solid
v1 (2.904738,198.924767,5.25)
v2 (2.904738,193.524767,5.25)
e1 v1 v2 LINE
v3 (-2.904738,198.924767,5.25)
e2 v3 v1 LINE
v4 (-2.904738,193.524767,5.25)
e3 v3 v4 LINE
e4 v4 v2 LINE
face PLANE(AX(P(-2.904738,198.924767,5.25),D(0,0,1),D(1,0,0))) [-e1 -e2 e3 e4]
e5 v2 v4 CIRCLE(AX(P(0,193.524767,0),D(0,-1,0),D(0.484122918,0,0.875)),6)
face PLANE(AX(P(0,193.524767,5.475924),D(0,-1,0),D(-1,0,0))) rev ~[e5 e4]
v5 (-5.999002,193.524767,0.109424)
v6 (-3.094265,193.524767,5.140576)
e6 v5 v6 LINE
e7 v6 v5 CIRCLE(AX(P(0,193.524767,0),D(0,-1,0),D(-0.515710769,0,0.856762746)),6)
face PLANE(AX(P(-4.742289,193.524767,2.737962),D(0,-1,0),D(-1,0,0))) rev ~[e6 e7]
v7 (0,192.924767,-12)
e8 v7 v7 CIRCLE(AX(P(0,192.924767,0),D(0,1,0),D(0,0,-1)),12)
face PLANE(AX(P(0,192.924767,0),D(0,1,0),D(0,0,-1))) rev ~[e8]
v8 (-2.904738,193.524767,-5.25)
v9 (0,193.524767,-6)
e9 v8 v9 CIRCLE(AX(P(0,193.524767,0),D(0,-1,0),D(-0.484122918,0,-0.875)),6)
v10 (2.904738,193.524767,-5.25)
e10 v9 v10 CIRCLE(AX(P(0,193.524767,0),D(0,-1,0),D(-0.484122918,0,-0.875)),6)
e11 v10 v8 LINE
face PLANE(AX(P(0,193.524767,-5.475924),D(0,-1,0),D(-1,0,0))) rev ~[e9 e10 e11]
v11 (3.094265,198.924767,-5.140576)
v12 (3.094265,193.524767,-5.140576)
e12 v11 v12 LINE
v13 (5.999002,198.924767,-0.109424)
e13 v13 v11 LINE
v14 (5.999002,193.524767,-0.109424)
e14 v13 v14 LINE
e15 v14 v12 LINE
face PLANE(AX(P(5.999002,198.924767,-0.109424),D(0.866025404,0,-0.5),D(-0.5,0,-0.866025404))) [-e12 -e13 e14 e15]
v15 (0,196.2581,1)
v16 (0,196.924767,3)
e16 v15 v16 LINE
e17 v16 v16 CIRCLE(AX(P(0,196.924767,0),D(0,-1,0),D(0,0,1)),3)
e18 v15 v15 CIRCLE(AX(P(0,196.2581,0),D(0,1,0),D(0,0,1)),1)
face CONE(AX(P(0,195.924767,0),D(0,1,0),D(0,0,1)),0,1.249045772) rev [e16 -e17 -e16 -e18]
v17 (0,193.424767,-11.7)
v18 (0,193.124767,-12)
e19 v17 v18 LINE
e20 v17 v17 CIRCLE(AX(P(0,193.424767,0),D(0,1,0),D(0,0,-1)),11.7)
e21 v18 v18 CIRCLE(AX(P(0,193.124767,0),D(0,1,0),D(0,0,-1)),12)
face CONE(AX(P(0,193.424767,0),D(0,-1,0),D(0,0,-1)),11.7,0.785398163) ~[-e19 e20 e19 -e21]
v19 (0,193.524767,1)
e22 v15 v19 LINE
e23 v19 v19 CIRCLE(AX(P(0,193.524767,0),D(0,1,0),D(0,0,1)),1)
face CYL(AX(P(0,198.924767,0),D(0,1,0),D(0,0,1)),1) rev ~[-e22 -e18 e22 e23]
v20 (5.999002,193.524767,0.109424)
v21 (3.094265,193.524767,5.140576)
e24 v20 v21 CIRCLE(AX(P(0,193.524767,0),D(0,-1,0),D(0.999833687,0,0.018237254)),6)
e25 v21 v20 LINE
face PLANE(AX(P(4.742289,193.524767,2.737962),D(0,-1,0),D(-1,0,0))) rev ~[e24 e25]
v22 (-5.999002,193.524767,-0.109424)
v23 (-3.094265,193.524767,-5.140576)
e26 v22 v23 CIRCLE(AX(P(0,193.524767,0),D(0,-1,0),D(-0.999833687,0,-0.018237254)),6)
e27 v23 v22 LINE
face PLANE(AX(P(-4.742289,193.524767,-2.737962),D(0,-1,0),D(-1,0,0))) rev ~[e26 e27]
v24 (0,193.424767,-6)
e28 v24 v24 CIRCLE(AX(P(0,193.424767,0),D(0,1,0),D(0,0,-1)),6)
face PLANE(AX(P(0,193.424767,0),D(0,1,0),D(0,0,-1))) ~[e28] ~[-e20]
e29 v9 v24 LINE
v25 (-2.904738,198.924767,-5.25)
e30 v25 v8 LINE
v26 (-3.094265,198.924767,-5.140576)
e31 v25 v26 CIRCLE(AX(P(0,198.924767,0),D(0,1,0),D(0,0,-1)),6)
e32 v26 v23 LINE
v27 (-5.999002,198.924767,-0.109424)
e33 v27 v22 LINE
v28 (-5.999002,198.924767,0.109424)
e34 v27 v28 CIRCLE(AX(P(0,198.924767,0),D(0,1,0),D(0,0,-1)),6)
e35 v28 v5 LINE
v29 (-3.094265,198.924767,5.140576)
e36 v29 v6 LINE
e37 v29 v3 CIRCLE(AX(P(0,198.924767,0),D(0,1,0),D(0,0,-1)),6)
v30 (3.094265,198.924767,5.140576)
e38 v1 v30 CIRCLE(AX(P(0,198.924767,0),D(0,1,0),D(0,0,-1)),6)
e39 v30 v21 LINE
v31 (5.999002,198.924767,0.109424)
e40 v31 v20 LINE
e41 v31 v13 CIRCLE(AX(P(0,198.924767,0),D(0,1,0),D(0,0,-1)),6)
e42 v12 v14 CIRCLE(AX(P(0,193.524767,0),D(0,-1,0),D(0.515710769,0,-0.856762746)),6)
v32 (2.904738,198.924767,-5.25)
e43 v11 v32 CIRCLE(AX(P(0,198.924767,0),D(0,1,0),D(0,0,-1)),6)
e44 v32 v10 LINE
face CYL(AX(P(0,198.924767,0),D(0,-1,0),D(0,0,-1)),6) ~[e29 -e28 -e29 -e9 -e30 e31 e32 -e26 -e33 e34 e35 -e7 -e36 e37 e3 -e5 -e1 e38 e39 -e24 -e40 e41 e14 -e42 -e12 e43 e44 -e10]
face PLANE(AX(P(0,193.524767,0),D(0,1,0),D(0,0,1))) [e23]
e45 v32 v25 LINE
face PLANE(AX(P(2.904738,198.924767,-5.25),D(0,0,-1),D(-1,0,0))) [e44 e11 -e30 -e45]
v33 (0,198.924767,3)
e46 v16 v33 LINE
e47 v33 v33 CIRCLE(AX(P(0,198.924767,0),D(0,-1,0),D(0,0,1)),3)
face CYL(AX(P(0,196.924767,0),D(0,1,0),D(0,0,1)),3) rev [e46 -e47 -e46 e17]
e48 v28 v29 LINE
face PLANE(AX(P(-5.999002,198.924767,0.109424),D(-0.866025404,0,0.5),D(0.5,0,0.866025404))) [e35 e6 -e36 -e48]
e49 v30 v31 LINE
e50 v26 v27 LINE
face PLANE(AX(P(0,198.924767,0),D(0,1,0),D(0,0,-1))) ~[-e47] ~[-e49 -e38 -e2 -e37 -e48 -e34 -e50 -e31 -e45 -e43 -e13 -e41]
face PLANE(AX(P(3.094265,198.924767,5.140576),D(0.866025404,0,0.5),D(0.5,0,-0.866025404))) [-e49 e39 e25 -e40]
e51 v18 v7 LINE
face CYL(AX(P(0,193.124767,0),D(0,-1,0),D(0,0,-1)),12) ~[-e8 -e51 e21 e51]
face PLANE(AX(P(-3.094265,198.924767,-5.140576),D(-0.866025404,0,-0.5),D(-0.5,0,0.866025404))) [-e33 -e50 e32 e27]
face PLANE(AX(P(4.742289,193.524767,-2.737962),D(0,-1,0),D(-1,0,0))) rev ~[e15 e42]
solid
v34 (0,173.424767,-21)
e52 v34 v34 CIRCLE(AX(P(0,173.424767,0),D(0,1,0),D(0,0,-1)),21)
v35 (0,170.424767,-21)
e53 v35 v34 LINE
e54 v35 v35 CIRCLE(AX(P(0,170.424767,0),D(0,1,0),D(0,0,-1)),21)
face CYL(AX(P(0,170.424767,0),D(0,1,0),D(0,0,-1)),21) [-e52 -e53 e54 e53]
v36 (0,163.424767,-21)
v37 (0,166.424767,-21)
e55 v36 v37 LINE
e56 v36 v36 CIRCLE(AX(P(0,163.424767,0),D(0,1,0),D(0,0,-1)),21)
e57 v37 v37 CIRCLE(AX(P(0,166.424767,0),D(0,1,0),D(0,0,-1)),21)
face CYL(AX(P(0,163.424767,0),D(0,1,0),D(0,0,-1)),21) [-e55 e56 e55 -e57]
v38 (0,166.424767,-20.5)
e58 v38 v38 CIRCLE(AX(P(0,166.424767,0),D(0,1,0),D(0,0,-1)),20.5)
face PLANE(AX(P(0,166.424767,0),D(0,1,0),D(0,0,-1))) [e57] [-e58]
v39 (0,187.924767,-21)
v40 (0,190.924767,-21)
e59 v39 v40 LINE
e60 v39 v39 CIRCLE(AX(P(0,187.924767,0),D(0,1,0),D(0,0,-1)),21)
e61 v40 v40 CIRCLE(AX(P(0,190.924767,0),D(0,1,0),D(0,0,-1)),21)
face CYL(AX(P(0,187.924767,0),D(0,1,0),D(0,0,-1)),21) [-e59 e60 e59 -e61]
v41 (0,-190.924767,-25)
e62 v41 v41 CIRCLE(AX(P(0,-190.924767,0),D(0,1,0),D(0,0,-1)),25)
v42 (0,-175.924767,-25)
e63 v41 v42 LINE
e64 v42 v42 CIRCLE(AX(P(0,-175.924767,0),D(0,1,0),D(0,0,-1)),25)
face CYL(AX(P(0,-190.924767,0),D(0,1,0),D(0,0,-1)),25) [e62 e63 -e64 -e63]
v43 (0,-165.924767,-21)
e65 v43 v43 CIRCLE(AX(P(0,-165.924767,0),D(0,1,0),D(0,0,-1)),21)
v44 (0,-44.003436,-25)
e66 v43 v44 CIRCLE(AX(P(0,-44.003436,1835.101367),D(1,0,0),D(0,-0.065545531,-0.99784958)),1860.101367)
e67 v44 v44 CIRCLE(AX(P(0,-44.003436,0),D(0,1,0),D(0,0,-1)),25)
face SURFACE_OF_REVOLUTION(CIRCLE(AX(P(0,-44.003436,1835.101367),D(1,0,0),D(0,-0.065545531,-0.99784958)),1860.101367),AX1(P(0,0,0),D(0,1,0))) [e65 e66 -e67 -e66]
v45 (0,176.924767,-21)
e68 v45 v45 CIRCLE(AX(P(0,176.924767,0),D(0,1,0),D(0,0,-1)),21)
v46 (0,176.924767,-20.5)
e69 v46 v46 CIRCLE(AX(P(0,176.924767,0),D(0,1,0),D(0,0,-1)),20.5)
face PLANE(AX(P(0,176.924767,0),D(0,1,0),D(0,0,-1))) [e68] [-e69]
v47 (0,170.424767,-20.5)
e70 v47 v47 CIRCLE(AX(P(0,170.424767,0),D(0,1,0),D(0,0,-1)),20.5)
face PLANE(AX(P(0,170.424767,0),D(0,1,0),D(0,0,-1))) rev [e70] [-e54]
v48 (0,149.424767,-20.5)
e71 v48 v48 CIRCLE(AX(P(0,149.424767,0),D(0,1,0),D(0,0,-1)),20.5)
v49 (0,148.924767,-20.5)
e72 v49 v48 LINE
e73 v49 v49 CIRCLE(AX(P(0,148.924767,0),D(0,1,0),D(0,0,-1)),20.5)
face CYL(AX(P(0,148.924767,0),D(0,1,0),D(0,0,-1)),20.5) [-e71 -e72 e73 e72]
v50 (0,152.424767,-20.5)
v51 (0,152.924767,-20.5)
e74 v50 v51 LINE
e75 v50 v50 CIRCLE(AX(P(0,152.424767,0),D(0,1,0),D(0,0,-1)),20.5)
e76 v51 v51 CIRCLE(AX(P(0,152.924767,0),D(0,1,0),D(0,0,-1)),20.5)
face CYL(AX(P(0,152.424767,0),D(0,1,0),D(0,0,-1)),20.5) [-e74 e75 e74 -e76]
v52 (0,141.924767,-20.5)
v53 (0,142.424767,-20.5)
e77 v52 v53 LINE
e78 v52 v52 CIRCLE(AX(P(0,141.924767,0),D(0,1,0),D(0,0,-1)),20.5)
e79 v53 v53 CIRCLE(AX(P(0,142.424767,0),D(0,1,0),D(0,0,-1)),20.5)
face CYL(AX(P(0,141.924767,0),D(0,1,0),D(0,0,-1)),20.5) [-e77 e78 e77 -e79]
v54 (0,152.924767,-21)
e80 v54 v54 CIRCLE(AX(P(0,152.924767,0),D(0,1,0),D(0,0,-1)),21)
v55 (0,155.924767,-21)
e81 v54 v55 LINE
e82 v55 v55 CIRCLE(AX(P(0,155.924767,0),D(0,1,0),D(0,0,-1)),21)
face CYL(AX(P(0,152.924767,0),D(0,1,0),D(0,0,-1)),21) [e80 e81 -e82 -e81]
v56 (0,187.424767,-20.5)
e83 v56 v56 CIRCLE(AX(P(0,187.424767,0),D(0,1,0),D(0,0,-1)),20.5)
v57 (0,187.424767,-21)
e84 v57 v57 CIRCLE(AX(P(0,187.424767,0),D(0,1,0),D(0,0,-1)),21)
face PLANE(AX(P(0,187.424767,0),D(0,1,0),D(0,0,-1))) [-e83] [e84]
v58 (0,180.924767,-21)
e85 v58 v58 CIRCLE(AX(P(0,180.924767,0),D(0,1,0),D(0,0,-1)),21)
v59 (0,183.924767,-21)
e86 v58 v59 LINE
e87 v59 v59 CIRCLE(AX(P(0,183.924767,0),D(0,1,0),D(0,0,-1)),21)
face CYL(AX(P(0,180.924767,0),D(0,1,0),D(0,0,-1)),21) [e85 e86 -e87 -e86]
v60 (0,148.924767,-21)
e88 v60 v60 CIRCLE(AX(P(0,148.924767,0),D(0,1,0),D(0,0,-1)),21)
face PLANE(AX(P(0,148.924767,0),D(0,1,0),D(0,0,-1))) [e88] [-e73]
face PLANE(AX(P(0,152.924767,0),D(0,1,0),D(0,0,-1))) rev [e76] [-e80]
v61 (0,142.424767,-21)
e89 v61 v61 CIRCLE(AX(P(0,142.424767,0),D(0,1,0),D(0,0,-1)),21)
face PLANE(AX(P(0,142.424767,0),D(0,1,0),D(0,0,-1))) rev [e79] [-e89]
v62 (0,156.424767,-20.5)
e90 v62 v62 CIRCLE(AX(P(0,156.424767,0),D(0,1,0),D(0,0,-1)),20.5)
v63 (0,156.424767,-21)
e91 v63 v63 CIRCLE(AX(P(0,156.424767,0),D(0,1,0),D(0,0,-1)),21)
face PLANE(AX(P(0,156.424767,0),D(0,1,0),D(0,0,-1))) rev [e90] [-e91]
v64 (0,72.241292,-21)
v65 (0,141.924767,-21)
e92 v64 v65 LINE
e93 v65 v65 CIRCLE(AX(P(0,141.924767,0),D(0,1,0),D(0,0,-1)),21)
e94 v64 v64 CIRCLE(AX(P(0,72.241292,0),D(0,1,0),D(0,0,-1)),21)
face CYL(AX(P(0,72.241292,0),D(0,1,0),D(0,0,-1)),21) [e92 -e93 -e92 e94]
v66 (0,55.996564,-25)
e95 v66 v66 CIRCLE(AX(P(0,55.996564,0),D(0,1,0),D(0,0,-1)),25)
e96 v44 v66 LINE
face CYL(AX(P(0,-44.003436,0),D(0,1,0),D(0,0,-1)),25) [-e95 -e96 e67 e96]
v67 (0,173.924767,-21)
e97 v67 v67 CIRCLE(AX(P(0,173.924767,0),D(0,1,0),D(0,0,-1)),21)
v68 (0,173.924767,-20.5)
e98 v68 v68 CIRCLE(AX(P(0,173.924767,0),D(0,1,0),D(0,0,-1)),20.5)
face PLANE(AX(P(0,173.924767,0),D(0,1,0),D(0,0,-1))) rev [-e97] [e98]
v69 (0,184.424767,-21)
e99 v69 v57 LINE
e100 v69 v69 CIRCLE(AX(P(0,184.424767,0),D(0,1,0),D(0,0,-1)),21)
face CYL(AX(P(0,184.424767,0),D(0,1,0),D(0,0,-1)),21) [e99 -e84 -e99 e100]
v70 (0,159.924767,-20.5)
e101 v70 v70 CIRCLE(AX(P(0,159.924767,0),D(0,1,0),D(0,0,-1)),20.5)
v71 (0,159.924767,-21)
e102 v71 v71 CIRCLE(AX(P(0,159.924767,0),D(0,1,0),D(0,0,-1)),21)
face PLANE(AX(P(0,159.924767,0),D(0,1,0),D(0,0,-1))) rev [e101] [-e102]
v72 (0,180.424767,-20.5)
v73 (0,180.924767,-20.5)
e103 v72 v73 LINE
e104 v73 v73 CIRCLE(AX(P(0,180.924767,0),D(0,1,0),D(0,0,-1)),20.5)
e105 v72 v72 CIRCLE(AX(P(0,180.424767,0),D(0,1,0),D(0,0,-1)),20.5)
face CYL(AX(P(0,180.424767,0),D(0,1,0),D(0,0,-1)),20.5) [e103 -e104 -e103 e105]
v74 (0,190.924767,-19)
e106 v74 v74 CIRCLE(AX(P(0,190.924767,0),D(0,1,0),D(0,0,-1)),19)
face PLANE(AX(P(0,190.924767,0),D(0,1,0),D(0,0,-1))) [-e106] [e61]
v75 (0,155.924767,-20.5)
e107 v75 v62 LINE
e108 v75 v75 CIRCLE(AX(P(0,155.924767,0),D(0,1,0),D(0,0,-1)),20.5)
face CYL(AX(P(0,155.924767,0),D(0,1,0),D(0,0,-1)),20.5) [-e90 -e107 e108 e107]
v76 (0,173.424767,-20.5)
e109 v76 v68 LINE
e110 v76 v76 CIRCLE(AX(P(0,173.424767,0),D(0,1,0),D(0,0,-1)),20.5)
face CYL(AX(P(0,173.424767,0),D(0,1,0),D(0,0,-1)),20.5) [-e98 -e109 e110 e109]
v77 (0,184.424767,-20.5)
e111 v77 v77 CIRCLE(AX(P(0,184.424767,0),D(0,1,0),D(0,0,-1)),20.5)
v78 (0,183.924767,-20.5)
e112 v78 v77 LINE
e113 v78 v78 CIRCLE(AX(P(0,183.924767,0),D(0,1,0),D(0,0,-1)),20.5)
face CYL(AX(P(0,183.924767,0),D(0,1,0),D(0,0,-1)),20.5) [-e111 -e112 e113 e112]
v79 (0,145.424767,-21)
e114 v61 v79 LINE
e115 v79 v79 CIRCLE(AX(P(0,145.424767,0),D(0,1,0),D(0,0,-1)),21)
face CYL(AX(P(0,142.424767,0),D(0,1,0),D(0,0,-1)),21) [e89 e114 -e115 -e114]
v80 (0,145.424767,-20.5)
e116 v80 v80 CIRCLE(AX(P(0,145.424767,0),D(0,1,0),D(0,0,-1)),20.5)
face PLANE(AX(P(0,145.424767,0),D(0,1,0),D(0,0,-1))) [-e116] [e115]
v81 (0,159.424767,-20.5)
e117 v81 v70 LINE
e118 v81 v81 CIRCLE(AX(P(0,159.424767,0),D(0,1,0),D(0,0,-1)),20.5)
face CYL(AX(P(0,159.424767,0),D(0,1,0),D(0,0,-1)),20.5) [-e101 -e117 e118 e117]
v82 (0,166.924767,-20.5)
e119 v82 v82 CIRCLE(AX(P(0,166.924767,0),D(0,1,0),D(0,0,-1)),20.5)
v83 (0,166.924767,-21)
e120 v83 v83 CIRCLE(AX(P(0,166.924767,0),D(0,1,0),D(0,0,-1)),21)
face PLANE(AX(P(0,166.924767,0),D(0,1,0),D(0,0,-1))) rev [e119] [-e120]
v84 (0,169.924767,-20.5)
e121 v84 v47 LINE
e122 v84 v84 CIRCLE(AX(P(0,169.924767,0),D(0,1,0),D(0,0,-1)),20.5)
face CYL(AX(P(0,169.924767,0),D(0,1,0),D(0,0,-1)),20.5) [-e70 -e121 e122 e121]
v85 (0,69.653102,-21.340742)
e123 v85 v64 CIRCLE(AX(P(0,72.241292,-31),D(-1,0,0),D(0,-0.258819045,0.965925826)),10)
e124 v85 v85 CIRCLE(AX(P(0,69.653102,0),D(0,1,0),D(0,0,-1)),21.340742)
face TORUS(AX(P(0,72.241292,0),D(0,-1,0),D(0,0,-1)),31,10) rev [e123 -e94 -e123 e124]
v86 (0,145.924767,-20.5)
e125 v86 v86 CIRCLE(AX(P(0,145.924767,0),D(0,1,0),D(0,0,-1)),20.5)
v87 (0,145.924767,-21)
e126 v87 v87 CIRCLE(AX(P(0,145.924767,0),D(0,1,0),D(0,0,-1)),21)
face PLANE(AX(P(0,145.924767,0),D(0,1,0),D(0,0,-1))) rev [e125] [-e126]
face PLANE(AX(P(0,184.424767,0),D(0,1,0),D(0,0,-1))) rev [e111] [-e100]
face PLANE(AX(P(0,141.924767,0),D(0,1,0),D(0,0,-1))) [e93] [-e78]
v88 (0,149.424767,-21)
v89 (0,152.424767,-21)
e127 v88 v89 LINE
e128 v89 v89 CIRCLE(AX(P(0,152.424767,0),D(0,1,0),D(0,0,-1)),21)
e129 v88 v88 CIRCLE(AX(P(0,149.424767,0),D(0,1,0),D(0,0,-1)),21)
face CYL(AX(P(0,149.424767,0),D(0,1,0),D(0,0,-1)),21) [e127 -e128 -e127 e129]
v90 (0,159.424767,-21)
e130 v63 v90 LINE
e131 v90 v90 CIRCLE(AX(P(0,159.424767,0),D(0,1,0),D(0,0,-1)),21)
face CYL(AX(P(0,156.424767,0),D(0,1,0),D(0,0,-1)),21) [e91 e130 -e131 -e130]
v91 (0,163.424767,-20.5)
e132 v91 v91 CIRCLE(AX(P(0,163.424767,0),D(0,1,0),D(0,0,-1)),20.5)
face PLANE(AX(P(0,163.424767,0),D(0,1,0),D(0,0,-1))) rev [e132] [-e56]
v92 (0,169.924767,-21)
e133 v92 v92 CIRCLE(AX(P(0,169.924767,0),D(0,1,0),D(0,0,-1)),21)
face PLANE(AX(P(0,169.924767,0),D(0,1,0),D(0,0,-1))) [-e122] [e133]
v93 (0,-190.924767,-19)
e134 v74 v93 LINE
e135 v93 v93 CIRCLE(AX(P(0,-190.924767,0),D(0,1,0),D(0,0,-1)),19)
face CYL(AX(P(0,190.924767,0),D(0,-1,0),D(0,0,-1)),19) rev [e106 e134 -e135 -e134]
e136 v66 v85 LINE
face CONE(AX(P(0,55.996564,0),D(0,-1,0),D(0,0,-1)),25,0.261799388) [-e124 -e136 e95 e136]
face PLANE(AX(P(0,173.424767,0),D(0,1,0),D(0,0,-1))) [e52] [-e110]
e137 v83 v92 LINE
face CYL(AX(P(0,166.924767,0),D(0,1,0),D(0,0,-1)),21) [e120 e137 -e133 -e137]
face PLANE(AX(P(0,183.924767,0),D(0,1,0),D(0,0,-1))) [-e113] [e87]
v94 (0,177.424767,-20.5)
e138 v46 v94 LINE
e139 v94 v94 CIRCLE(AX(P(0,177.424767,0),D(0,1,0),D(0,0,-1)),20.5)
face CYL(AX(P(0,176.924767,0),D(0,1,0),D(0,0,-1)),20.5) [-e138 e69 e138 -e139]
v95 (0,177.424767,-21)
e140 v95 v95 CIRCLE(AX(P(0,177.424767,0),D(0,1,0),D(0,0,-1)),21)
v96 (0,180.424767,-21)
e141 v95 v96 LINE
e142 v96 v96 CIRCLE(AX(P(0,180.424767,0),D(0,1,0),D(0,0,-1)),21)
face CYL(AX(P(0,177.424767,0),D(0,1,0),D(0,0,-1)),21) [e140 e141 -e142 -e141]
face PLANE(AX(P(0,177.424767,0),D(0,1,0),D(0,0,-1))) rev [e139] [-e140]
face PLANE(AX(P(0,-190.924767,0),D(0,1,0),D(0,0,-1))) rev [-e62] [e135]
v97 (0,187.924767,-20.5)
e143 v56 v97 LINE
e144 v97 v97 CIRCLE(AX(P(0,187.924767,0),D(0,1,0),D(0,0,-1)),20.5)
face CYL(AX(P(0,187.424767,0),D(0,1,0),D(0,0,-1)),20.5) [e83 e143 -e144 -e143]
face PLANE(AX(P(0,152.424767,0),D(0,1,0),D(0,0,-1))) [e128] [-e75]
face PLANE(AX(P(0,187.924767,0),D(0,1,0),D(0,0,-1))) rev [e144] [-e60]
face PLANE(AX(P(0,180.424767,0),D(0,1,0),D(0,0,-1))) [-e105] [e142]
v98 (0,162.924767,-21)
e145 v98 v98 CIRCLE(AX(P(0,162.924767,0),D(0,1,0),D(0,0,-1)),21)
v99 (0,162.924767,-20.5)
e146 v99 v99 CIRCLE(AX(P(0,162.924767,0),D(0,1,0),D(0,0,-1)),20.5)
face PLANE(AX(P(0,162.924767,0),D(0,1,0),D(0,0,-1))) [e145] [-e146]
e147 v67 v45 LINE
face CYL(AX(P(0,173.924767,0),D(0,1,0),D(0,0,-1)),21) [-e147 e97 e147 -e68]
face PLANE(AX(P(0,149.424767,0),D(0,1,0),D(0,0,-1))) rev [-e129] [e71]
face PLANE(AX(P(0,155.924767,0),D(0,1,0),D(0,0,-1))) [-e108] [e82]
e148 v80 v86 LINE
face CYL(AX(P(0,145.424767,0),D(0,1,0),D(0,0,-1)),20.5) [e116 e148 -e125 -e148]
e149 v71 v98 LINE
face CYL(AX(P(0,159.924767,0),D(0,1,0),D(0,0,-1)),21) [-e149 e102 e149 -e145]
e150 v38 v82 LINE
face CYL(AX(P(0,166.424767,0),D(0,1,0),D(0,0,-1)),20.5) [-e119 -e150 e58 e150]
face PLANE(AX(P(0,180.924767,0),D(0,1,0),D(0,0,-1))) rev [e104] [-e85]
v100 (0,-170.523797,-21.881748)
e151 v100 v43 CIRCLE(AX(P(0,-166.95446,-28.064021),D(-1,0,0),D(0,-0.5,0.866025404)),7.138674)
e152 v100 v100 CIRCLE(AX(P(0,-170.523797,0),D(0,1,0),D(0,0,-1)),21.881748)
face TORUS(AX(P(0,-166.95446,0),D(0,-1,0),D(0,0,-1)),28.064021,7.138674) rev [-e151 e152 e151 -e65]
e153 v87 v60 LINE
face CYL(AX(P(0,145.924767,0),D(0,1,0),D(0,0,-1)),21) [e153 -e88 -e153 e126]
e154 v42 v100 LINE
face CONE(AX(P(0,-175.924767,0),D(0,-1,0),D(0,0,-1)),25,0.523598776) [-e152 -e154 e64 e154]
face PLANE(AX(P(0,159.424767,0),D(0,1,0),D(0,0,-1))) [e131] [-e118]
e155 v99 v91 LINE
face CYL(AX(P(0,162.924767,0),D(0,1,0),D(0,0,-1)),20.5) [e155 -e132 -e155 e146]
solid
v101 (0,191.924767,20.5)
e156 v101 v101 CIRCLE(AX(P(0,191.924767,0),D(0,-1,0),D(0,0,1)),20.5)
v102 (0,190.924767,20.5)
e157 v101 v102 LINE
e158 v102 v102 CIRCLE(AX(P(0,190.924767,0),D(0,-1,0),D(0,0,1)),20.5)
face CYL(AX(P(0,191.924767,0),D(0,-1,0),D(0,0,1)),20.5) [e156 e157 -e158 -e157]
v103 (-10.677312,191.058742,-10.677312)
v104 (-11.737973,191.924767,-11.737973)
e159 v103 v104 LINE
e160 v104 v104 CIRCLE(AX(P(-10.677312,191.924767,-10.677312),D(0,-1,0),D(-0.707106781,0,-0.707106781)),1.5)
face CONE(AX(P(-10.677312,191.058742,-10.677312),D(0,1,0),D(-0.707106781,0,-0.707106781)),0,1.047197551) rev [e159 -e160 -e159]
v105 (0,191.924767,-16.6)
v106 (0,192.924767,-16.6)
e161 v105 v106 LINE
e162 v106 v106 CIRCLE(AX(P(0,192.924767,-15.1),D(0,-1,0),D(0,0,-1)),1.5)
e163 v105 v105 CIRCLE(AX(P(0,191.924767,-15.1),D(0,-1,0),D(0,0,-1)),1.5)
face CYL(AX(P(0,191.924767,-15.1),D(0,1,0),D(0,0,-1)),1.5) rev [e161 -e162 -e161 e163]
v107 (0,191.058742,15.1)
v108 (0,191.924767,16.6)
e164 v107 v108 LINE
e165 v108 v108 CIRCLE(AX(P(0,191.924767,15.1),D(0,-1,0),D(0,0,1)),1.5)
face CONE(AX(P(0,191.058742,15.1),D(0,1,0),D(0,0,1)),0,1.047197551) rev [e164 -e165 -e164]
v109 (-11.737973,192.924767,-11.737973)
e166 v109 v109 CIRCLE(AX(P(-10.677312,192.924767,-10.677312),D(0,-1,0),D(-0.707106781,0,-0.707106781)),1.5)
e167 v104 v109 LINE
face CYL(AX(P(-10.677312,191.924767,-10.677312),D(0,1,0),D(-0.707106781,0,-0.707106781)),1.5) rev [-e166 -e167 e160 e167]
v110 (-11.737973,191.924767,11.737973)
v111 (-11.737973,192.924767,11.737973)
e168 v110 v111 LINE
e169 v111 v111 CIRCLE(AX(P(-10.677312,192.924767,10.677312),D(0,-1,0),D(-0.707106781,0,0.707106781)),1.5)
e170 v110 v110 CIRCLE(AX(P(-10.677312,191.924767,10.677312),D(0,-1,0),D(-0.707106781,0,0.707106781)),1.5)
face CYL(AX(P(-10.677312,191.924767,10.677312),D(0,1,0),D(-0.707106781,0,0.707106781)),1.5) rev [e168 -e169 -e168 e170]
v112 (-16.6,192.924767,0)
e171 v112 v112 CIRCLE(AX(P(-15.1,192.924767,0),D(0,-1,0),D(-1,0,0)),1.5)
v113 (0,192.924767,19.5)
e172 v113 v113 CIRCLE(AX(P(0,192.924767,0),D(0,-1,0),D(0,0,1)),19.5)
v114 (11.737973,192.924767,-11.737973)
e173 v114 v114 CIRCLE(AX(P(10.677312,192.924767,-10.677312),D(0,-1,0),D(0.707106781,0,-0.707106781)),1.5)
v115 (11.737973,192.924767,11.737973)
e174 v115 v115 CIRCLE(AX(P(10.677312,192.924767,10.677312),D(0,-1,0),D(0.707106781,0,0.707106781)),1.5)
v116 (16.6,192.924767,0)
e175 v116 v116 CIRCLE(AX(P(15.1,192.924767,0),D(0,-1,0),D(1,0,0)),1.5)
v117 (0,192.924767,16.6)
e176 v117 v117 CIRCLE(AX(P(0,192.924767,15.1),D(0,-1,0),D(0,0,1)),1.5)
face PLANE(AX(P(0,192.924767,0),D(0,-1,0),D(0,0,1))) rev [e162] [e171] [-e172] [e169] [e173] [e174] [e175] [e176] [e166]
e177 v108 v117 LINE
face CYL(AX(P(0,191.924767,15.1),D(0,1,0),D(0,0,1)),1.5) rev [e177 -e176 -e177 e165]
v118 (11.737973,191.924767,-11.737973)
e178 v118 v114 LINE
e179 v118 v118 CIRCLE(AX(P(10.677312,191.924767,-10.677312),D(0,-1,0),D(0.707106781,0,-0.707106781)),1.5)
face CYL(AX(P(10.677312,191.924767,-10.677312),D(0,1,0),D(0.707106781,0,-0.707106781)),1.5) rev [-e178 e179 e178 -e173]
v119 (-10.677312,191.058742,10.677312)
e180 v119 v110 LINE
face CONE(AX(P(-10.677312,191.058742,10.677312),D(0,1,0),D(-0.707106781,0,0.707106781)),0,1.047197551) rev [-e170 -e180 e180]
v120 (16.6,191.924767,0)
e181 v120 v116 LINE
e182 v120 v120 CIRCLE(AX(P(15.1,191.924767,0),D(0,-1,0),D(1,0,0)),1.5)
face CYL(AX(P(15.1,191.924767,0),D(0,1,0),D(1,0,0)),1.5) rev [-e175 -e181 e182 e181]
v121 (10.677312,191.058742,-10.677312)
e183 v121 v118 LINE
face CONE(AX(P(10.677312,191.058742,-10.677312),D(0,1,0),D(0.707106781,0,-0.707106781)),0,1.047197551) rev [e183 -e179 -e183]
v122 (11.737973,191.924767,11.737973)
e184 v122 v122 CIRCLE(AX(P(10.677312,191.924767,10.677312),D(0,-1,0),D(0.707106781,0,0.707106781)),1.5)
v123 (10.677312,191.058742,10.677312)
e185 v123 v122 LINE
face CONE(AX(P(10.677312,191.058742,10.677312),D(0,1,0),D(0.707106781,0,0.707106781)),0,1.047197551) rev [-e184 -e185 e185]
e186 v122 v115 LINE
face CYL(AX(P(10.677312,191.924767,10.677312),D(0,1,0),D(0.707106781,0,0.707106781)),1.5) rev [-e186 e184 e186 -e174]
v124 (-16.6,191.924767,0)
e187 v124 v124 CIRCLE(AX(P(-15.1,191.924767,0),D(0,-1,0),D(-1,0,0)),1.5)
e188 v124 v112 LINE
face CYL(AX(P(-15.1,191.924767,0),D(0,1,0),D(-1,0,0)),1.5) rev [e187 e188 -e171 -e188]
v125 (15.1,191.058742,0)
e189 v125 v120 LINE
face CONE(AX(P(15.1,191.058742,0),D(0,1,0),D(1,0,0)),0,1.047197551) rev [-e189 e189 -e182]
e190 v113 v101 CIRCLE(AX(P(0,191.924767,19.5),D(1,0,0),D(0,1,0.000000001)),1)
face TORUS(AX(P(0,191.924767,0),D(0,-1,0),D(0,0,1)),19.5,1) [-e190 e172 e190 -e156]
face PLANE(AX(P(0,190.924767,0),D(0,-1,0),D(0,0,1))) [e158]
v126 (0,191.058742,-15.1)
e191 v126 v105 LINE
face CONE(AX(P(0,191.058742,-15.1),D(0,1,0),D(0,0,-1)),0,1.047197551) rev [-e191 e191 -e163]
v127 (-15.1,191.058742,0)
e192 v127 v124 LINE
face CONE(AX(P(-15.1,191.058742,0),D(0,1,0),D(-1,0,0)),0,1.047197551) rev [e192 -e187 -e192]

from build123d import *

# Parameters (mm, degrees)
SKETCH7_R          = 1
CUT_EXTRUDE1_DEPTH = 5.4
CIRPATTERN2_COUNT  = 8


with BuildPart() as part:
    # Sketch1 → Revolve1 (revolve)
    with BuildSketch(Plane.XY, mode=Mode.PRIVATE) as revolve1_sk:
        with BuildLine():
            Line((-19, 190.92476708), (-19, -190.92476708))
            Line((-19, -190.92476708), (-25, -190.92476708))
            Line((-25, -190.92476708), (-25, -175.92476708))
            Line((-25, -175.92476708), (-21.881748411, -170.523796897))
            ThreePointArc((-21.881748411, -170.523796897), (-21.053040899, -168.29863928), (-21, -165.92476708))
            ThreePointArc((-21, -165.92476708), (-23.999731053, -104.996900832), (-25, -44.00343615))
            Line((-25, -44.00343615), (-25, 55.99656385))
            Line((-25, 55.99656385), (-21.340741737, 69.653101605))
            ThreePointArc((-21.340741737, 69.653101605), (-21.085551386, 70.936030134), (-21, 72.241292056))
            Line((-21, 72.241292056), (-21, 141.92476708))
            Line((-21, 141.92476708), (-20.5, 141.92476708))
            Line((-20.5, 141.92476708), (-20.5, 142.42476708))
            Line((-20.5, 142.42476708), (-21, 142.42476708))
            Line((-21, 142.42476708), (-21, 145.42476708))
            Line((-21, 145.42476708), (-20.5, 145.42476708))
            Line((-20.5, 145.42476708), (-20.5, 145.92476708))
            Line((-20.5, 145.92476708), (-21, 145.92476708))
            Line((-21, 145.92476708), (-21, 148.92476708))
            Line((-21, 148.92476708), (-20.5, 148.92476708))
            Line((-20.5, 148.92476708), (-20.5, 149.42476708))
            Line((-20.5, 149.42476708), (-21, 149.42476708))
            Line((-21, 149.42476708), (-21, 152.42476708))
            Line((-21, 152.42476708), (-20.5, 152.42476708))
            Line((-20.5, 152.42476708), (-20.5, 152.92476708))
            Line((-20.5, 152.92476708), (-21, 152.92476708))
            Line((-21, 152.92476708), (-21, 155.92476708))
            Line((-21, 155.92476708), (-20.5, 155.92476708))
            Line((-20.5, 155.92476708), (-20.5, 156.42476708))
            Line((-20.5, 156.42476708), (-21, 156.42476708))
            Line((-21, 156.42476708), (-21, 159.42476708))
            Line((-21, 159.42476708), (-20.5, 159.42476708))
            Line((-20.5, 159.42476708), (-20.5, 159.92476708))
            Line((-20.5, 159.92476708), (-21, 159.92476708))
            Line((-21, 159.92476708), (-21, 162.92476708))
            Line((-21, 162.92476708), (-20.5, 162.92476708))
            Line((-20.5, 162.92476708), (-20.5, 163.42476708))
            Line((-20.5, 163.42476708), (-21, 163.42476708))
            Line((-21, 163.42476708), (-21, 166.42476708))
            Line((-21, 166.42476708), (-20.5, 166.42476708))
            Line((-20.5, 166.42476708), (-20.5, 166.92476708))
            Line((-20.5, 166.92476708), (-21, 166.92476708))
            Line((-21, 166.92476708), (-21, 169.92476708))
            Line((-21, 169.92476708), (-20.5, 169.92476708))
            Line((-20.5, 169.92476708), (-20.5, 170.42476708))
            Line((-20.5, 170.42476708), (-21, 170.42476708))
            Line((-21, 170.42476708), (-21, 173.42476708))
            Line((-21, 173.42476708), (-20.5, 173.42476708))
            Line((-20.5, 173.42476708), (-20.5, 173.92476708))
            Line((-20.5, 173.92476708), (-21, 173.92476708))
            Line((-21, 173.92476708), (-21, 176.92476708))
            Line((-21, 176.92476708), (-20.5, 176.92476708))
            Line((-20.5, 176.92476708), (-20.5, 177.42476708))
            Line((-20.5, 177.42476708), (-21, 177.42476708))
            Line((-21, 177.42476708), (-21, 180.42476708))
            Line((-21, 180.42476708), (-20.5, 180.42476708))
            Line((-20.5, 180.42476708), (-20.5, 180.92476708))
            Line((-20.5, 180.92476708), (-21, 180.92476708))
            Line((-21, 180.92476708), (-21, 183.92476708))
            Line((-21, 183.92476708), (-20.5, 183.92476708))
            Line((-20.5, 183.92476708), (-20.5, 184.42476708))
            Line((-20.5, 184.42476708), (-21, 184.42476708))
            Line((-21, 184.42476708), (-21, 187.42476708))
            Line((-21, 187.42476708), (-20.5, 187.42476708))
            Line((-20.5, 187.42476708), (-20.5, 187.92476708))
            Line((-20.5, 187.92476708), (-21, 187.92476708))
            Line((-21, 187.92476708), (-21, 190.92476708))
            Line((-21, 190.92476708), (-19, 190.92476708))
        make_face()
    revolve(revolve1_sk.sketch.rotate(Axis((0, 0, 0), (0, 1, 0)), 270), axis=Axis((0, 0, 0), (0, 1, 0)))


with BuildPart() as body_2:
    # Sketch4 → Revolve2 (revolve)
    with BuildSketch(Plane(origin=(0, 0, 0), x_dir=(0, 0, -1), z_dir=(1, 0, 0))):
        with BuildLine():
            Line((-20.5, 190.92476708), (0, 190.92476708))
            Line((0, 190.92476708), (0, 192.92476708))
            Line((0, 192.92476708), (-19.5, 192.92476708))
            ThreePointArc((-19.5, 192.92476708), (-20.207106781, 192.631873861), (-20.5, 191.92476708))
            Line((-20.5, 191.92476708), (-20.5, 190.92476708))
        make_face()
    revolve(axis=Axis((0, 192.92476708, 0), (0, -1, 0)))

    # Sketch10 → Cut-Revolve2 (revolve, cut)
    with BuildSketch(Plane(origin=(0, 0, 0), x_dir=(0, 0, -1), z_dir=(1, 0, 0))):
        Polygon((-15.1, 192.92476708), (-15.1, 191.058741676), (-16.6, 191.92476708), (-16.6, 192.92476708), align=None)
    cut_revolve2 = revolve(axis=Axis((0, 192.92476708, 15.1), (0, -1, 0)), mode=Mode.SUBTRACT)

    # CirPattern2: Cut-Revolve2 ×8 about axis
    cirpattern2_axis = Axis((0, 0, 0), (0, 1, 0))
    for i in range(1, CIRPATTERN2_COUNT):
        add(cut_revolve2.rotate(cirpattern2_axis, i * 360 / CIRPATTERN2_COUNT), mode=Mode.SUBTRACT)


with BuildPart() as body_3:
    # Sketch6 → Revolve4 (revolve)
    with BuildSketch(Plane(origin=(0, 0, 0), x_dir=(0, 0, -1), z_dir=(1, 0, 0)), mode=Mode.PRIVATE) as revolve4_sk:
        Polygon((0, 192.92476708), (0, 198.92476708), (-6, 198.92476708), (-6, 193.42476708), (-11.7, 193.42476708), (-12, 193.12476708), (-12, 192.92476708), align=None)
    revolve(revolve4_sk.sketch.rotate(Axis((0, 192.92476708, 0), (0, 1, 0)), 180), axis=Axis((0, 192.92476708, 0), (0, 1, 0)))

    # Sketch7 → Cut-Extrude1 (cut)
    with BuildSketch(Plane(origin=(0, 198.92476708, 0), x_dir=(1, 0, 0), z_dir=(0, 1, 0))):
        with Locations(Location((0, 0, 0), (0, 0, 270))):
            Circle(SKETCH7_R)
        with BuildLine():
            Line((5.999002125, 0.109423525), (3.094264615, 5.140576475))
            ThreePointArc((3.094264615, 5.140576475), (5.196152423, 3), (5.999002125, 0.109423525))
        make_face()
        with BuildLine():
            Line((2.90473751, 5.25), (-2.90473751, 5.25))
            ThreePointArc((-2.90473751, 5.25), (0, 6), (2.90473751, 5.25))
        make_face()
        with BuildLine():
            Line((-3.094264615, 5.140576475), (-5.999002125, 0.109423525))
            ThreePointArc((-5.999002125, 0.109423525), (-5.196152423, 3), (-3.094264615, 5.140576475))
        make_face()
        with BuildLine():
            Line((-5.999002125, -0.109423525), (-3.094264615, -5.140576475))
            ThreePointArc((-3.094264615, -5.140576475), (-5.196152423, -3), (-5.999002125, -0.109423525))
        make_face()
        with BuildLine():
            Line((-2.90473751, -5.25), (2.90473751, -5.25))
            ThreePointArc((2.90473751, -5.25), (0, -6), (-2.90473751, -5.25))
        make_face()
        with BuildLine():
            Line((3.094264615, -5.140576475), (5.999002125, -0.109423525))
            ThreePointArc((5.999002125, -0.109423525), (5.196152423, -3), (3.094264615, -5.140576475))
        make_face()
    extrude(amount=-CUT_EXTRUDE1_DEPTH, mode=Mode.SUBTRACT)

    # Sketch9 → Cut-Revolve1 (revolve, cut)
    with BuildSketch(Plane(origin=(0, 0, 0), x_dir=(0, 0, -1), z_dir=(1, 0, 0))):
        Polygon((0, 198.92476708), (0, 195.92476708), (-3, 196.92476708), (-3, 198.92476708), align=None)
    revolve(axis=Axis((0, 198.92476708, 0), (0, -1, 0)), mode=Mode.SUBTRACT)


solid = Compound([part.part, body_2.part, body_3.part])
